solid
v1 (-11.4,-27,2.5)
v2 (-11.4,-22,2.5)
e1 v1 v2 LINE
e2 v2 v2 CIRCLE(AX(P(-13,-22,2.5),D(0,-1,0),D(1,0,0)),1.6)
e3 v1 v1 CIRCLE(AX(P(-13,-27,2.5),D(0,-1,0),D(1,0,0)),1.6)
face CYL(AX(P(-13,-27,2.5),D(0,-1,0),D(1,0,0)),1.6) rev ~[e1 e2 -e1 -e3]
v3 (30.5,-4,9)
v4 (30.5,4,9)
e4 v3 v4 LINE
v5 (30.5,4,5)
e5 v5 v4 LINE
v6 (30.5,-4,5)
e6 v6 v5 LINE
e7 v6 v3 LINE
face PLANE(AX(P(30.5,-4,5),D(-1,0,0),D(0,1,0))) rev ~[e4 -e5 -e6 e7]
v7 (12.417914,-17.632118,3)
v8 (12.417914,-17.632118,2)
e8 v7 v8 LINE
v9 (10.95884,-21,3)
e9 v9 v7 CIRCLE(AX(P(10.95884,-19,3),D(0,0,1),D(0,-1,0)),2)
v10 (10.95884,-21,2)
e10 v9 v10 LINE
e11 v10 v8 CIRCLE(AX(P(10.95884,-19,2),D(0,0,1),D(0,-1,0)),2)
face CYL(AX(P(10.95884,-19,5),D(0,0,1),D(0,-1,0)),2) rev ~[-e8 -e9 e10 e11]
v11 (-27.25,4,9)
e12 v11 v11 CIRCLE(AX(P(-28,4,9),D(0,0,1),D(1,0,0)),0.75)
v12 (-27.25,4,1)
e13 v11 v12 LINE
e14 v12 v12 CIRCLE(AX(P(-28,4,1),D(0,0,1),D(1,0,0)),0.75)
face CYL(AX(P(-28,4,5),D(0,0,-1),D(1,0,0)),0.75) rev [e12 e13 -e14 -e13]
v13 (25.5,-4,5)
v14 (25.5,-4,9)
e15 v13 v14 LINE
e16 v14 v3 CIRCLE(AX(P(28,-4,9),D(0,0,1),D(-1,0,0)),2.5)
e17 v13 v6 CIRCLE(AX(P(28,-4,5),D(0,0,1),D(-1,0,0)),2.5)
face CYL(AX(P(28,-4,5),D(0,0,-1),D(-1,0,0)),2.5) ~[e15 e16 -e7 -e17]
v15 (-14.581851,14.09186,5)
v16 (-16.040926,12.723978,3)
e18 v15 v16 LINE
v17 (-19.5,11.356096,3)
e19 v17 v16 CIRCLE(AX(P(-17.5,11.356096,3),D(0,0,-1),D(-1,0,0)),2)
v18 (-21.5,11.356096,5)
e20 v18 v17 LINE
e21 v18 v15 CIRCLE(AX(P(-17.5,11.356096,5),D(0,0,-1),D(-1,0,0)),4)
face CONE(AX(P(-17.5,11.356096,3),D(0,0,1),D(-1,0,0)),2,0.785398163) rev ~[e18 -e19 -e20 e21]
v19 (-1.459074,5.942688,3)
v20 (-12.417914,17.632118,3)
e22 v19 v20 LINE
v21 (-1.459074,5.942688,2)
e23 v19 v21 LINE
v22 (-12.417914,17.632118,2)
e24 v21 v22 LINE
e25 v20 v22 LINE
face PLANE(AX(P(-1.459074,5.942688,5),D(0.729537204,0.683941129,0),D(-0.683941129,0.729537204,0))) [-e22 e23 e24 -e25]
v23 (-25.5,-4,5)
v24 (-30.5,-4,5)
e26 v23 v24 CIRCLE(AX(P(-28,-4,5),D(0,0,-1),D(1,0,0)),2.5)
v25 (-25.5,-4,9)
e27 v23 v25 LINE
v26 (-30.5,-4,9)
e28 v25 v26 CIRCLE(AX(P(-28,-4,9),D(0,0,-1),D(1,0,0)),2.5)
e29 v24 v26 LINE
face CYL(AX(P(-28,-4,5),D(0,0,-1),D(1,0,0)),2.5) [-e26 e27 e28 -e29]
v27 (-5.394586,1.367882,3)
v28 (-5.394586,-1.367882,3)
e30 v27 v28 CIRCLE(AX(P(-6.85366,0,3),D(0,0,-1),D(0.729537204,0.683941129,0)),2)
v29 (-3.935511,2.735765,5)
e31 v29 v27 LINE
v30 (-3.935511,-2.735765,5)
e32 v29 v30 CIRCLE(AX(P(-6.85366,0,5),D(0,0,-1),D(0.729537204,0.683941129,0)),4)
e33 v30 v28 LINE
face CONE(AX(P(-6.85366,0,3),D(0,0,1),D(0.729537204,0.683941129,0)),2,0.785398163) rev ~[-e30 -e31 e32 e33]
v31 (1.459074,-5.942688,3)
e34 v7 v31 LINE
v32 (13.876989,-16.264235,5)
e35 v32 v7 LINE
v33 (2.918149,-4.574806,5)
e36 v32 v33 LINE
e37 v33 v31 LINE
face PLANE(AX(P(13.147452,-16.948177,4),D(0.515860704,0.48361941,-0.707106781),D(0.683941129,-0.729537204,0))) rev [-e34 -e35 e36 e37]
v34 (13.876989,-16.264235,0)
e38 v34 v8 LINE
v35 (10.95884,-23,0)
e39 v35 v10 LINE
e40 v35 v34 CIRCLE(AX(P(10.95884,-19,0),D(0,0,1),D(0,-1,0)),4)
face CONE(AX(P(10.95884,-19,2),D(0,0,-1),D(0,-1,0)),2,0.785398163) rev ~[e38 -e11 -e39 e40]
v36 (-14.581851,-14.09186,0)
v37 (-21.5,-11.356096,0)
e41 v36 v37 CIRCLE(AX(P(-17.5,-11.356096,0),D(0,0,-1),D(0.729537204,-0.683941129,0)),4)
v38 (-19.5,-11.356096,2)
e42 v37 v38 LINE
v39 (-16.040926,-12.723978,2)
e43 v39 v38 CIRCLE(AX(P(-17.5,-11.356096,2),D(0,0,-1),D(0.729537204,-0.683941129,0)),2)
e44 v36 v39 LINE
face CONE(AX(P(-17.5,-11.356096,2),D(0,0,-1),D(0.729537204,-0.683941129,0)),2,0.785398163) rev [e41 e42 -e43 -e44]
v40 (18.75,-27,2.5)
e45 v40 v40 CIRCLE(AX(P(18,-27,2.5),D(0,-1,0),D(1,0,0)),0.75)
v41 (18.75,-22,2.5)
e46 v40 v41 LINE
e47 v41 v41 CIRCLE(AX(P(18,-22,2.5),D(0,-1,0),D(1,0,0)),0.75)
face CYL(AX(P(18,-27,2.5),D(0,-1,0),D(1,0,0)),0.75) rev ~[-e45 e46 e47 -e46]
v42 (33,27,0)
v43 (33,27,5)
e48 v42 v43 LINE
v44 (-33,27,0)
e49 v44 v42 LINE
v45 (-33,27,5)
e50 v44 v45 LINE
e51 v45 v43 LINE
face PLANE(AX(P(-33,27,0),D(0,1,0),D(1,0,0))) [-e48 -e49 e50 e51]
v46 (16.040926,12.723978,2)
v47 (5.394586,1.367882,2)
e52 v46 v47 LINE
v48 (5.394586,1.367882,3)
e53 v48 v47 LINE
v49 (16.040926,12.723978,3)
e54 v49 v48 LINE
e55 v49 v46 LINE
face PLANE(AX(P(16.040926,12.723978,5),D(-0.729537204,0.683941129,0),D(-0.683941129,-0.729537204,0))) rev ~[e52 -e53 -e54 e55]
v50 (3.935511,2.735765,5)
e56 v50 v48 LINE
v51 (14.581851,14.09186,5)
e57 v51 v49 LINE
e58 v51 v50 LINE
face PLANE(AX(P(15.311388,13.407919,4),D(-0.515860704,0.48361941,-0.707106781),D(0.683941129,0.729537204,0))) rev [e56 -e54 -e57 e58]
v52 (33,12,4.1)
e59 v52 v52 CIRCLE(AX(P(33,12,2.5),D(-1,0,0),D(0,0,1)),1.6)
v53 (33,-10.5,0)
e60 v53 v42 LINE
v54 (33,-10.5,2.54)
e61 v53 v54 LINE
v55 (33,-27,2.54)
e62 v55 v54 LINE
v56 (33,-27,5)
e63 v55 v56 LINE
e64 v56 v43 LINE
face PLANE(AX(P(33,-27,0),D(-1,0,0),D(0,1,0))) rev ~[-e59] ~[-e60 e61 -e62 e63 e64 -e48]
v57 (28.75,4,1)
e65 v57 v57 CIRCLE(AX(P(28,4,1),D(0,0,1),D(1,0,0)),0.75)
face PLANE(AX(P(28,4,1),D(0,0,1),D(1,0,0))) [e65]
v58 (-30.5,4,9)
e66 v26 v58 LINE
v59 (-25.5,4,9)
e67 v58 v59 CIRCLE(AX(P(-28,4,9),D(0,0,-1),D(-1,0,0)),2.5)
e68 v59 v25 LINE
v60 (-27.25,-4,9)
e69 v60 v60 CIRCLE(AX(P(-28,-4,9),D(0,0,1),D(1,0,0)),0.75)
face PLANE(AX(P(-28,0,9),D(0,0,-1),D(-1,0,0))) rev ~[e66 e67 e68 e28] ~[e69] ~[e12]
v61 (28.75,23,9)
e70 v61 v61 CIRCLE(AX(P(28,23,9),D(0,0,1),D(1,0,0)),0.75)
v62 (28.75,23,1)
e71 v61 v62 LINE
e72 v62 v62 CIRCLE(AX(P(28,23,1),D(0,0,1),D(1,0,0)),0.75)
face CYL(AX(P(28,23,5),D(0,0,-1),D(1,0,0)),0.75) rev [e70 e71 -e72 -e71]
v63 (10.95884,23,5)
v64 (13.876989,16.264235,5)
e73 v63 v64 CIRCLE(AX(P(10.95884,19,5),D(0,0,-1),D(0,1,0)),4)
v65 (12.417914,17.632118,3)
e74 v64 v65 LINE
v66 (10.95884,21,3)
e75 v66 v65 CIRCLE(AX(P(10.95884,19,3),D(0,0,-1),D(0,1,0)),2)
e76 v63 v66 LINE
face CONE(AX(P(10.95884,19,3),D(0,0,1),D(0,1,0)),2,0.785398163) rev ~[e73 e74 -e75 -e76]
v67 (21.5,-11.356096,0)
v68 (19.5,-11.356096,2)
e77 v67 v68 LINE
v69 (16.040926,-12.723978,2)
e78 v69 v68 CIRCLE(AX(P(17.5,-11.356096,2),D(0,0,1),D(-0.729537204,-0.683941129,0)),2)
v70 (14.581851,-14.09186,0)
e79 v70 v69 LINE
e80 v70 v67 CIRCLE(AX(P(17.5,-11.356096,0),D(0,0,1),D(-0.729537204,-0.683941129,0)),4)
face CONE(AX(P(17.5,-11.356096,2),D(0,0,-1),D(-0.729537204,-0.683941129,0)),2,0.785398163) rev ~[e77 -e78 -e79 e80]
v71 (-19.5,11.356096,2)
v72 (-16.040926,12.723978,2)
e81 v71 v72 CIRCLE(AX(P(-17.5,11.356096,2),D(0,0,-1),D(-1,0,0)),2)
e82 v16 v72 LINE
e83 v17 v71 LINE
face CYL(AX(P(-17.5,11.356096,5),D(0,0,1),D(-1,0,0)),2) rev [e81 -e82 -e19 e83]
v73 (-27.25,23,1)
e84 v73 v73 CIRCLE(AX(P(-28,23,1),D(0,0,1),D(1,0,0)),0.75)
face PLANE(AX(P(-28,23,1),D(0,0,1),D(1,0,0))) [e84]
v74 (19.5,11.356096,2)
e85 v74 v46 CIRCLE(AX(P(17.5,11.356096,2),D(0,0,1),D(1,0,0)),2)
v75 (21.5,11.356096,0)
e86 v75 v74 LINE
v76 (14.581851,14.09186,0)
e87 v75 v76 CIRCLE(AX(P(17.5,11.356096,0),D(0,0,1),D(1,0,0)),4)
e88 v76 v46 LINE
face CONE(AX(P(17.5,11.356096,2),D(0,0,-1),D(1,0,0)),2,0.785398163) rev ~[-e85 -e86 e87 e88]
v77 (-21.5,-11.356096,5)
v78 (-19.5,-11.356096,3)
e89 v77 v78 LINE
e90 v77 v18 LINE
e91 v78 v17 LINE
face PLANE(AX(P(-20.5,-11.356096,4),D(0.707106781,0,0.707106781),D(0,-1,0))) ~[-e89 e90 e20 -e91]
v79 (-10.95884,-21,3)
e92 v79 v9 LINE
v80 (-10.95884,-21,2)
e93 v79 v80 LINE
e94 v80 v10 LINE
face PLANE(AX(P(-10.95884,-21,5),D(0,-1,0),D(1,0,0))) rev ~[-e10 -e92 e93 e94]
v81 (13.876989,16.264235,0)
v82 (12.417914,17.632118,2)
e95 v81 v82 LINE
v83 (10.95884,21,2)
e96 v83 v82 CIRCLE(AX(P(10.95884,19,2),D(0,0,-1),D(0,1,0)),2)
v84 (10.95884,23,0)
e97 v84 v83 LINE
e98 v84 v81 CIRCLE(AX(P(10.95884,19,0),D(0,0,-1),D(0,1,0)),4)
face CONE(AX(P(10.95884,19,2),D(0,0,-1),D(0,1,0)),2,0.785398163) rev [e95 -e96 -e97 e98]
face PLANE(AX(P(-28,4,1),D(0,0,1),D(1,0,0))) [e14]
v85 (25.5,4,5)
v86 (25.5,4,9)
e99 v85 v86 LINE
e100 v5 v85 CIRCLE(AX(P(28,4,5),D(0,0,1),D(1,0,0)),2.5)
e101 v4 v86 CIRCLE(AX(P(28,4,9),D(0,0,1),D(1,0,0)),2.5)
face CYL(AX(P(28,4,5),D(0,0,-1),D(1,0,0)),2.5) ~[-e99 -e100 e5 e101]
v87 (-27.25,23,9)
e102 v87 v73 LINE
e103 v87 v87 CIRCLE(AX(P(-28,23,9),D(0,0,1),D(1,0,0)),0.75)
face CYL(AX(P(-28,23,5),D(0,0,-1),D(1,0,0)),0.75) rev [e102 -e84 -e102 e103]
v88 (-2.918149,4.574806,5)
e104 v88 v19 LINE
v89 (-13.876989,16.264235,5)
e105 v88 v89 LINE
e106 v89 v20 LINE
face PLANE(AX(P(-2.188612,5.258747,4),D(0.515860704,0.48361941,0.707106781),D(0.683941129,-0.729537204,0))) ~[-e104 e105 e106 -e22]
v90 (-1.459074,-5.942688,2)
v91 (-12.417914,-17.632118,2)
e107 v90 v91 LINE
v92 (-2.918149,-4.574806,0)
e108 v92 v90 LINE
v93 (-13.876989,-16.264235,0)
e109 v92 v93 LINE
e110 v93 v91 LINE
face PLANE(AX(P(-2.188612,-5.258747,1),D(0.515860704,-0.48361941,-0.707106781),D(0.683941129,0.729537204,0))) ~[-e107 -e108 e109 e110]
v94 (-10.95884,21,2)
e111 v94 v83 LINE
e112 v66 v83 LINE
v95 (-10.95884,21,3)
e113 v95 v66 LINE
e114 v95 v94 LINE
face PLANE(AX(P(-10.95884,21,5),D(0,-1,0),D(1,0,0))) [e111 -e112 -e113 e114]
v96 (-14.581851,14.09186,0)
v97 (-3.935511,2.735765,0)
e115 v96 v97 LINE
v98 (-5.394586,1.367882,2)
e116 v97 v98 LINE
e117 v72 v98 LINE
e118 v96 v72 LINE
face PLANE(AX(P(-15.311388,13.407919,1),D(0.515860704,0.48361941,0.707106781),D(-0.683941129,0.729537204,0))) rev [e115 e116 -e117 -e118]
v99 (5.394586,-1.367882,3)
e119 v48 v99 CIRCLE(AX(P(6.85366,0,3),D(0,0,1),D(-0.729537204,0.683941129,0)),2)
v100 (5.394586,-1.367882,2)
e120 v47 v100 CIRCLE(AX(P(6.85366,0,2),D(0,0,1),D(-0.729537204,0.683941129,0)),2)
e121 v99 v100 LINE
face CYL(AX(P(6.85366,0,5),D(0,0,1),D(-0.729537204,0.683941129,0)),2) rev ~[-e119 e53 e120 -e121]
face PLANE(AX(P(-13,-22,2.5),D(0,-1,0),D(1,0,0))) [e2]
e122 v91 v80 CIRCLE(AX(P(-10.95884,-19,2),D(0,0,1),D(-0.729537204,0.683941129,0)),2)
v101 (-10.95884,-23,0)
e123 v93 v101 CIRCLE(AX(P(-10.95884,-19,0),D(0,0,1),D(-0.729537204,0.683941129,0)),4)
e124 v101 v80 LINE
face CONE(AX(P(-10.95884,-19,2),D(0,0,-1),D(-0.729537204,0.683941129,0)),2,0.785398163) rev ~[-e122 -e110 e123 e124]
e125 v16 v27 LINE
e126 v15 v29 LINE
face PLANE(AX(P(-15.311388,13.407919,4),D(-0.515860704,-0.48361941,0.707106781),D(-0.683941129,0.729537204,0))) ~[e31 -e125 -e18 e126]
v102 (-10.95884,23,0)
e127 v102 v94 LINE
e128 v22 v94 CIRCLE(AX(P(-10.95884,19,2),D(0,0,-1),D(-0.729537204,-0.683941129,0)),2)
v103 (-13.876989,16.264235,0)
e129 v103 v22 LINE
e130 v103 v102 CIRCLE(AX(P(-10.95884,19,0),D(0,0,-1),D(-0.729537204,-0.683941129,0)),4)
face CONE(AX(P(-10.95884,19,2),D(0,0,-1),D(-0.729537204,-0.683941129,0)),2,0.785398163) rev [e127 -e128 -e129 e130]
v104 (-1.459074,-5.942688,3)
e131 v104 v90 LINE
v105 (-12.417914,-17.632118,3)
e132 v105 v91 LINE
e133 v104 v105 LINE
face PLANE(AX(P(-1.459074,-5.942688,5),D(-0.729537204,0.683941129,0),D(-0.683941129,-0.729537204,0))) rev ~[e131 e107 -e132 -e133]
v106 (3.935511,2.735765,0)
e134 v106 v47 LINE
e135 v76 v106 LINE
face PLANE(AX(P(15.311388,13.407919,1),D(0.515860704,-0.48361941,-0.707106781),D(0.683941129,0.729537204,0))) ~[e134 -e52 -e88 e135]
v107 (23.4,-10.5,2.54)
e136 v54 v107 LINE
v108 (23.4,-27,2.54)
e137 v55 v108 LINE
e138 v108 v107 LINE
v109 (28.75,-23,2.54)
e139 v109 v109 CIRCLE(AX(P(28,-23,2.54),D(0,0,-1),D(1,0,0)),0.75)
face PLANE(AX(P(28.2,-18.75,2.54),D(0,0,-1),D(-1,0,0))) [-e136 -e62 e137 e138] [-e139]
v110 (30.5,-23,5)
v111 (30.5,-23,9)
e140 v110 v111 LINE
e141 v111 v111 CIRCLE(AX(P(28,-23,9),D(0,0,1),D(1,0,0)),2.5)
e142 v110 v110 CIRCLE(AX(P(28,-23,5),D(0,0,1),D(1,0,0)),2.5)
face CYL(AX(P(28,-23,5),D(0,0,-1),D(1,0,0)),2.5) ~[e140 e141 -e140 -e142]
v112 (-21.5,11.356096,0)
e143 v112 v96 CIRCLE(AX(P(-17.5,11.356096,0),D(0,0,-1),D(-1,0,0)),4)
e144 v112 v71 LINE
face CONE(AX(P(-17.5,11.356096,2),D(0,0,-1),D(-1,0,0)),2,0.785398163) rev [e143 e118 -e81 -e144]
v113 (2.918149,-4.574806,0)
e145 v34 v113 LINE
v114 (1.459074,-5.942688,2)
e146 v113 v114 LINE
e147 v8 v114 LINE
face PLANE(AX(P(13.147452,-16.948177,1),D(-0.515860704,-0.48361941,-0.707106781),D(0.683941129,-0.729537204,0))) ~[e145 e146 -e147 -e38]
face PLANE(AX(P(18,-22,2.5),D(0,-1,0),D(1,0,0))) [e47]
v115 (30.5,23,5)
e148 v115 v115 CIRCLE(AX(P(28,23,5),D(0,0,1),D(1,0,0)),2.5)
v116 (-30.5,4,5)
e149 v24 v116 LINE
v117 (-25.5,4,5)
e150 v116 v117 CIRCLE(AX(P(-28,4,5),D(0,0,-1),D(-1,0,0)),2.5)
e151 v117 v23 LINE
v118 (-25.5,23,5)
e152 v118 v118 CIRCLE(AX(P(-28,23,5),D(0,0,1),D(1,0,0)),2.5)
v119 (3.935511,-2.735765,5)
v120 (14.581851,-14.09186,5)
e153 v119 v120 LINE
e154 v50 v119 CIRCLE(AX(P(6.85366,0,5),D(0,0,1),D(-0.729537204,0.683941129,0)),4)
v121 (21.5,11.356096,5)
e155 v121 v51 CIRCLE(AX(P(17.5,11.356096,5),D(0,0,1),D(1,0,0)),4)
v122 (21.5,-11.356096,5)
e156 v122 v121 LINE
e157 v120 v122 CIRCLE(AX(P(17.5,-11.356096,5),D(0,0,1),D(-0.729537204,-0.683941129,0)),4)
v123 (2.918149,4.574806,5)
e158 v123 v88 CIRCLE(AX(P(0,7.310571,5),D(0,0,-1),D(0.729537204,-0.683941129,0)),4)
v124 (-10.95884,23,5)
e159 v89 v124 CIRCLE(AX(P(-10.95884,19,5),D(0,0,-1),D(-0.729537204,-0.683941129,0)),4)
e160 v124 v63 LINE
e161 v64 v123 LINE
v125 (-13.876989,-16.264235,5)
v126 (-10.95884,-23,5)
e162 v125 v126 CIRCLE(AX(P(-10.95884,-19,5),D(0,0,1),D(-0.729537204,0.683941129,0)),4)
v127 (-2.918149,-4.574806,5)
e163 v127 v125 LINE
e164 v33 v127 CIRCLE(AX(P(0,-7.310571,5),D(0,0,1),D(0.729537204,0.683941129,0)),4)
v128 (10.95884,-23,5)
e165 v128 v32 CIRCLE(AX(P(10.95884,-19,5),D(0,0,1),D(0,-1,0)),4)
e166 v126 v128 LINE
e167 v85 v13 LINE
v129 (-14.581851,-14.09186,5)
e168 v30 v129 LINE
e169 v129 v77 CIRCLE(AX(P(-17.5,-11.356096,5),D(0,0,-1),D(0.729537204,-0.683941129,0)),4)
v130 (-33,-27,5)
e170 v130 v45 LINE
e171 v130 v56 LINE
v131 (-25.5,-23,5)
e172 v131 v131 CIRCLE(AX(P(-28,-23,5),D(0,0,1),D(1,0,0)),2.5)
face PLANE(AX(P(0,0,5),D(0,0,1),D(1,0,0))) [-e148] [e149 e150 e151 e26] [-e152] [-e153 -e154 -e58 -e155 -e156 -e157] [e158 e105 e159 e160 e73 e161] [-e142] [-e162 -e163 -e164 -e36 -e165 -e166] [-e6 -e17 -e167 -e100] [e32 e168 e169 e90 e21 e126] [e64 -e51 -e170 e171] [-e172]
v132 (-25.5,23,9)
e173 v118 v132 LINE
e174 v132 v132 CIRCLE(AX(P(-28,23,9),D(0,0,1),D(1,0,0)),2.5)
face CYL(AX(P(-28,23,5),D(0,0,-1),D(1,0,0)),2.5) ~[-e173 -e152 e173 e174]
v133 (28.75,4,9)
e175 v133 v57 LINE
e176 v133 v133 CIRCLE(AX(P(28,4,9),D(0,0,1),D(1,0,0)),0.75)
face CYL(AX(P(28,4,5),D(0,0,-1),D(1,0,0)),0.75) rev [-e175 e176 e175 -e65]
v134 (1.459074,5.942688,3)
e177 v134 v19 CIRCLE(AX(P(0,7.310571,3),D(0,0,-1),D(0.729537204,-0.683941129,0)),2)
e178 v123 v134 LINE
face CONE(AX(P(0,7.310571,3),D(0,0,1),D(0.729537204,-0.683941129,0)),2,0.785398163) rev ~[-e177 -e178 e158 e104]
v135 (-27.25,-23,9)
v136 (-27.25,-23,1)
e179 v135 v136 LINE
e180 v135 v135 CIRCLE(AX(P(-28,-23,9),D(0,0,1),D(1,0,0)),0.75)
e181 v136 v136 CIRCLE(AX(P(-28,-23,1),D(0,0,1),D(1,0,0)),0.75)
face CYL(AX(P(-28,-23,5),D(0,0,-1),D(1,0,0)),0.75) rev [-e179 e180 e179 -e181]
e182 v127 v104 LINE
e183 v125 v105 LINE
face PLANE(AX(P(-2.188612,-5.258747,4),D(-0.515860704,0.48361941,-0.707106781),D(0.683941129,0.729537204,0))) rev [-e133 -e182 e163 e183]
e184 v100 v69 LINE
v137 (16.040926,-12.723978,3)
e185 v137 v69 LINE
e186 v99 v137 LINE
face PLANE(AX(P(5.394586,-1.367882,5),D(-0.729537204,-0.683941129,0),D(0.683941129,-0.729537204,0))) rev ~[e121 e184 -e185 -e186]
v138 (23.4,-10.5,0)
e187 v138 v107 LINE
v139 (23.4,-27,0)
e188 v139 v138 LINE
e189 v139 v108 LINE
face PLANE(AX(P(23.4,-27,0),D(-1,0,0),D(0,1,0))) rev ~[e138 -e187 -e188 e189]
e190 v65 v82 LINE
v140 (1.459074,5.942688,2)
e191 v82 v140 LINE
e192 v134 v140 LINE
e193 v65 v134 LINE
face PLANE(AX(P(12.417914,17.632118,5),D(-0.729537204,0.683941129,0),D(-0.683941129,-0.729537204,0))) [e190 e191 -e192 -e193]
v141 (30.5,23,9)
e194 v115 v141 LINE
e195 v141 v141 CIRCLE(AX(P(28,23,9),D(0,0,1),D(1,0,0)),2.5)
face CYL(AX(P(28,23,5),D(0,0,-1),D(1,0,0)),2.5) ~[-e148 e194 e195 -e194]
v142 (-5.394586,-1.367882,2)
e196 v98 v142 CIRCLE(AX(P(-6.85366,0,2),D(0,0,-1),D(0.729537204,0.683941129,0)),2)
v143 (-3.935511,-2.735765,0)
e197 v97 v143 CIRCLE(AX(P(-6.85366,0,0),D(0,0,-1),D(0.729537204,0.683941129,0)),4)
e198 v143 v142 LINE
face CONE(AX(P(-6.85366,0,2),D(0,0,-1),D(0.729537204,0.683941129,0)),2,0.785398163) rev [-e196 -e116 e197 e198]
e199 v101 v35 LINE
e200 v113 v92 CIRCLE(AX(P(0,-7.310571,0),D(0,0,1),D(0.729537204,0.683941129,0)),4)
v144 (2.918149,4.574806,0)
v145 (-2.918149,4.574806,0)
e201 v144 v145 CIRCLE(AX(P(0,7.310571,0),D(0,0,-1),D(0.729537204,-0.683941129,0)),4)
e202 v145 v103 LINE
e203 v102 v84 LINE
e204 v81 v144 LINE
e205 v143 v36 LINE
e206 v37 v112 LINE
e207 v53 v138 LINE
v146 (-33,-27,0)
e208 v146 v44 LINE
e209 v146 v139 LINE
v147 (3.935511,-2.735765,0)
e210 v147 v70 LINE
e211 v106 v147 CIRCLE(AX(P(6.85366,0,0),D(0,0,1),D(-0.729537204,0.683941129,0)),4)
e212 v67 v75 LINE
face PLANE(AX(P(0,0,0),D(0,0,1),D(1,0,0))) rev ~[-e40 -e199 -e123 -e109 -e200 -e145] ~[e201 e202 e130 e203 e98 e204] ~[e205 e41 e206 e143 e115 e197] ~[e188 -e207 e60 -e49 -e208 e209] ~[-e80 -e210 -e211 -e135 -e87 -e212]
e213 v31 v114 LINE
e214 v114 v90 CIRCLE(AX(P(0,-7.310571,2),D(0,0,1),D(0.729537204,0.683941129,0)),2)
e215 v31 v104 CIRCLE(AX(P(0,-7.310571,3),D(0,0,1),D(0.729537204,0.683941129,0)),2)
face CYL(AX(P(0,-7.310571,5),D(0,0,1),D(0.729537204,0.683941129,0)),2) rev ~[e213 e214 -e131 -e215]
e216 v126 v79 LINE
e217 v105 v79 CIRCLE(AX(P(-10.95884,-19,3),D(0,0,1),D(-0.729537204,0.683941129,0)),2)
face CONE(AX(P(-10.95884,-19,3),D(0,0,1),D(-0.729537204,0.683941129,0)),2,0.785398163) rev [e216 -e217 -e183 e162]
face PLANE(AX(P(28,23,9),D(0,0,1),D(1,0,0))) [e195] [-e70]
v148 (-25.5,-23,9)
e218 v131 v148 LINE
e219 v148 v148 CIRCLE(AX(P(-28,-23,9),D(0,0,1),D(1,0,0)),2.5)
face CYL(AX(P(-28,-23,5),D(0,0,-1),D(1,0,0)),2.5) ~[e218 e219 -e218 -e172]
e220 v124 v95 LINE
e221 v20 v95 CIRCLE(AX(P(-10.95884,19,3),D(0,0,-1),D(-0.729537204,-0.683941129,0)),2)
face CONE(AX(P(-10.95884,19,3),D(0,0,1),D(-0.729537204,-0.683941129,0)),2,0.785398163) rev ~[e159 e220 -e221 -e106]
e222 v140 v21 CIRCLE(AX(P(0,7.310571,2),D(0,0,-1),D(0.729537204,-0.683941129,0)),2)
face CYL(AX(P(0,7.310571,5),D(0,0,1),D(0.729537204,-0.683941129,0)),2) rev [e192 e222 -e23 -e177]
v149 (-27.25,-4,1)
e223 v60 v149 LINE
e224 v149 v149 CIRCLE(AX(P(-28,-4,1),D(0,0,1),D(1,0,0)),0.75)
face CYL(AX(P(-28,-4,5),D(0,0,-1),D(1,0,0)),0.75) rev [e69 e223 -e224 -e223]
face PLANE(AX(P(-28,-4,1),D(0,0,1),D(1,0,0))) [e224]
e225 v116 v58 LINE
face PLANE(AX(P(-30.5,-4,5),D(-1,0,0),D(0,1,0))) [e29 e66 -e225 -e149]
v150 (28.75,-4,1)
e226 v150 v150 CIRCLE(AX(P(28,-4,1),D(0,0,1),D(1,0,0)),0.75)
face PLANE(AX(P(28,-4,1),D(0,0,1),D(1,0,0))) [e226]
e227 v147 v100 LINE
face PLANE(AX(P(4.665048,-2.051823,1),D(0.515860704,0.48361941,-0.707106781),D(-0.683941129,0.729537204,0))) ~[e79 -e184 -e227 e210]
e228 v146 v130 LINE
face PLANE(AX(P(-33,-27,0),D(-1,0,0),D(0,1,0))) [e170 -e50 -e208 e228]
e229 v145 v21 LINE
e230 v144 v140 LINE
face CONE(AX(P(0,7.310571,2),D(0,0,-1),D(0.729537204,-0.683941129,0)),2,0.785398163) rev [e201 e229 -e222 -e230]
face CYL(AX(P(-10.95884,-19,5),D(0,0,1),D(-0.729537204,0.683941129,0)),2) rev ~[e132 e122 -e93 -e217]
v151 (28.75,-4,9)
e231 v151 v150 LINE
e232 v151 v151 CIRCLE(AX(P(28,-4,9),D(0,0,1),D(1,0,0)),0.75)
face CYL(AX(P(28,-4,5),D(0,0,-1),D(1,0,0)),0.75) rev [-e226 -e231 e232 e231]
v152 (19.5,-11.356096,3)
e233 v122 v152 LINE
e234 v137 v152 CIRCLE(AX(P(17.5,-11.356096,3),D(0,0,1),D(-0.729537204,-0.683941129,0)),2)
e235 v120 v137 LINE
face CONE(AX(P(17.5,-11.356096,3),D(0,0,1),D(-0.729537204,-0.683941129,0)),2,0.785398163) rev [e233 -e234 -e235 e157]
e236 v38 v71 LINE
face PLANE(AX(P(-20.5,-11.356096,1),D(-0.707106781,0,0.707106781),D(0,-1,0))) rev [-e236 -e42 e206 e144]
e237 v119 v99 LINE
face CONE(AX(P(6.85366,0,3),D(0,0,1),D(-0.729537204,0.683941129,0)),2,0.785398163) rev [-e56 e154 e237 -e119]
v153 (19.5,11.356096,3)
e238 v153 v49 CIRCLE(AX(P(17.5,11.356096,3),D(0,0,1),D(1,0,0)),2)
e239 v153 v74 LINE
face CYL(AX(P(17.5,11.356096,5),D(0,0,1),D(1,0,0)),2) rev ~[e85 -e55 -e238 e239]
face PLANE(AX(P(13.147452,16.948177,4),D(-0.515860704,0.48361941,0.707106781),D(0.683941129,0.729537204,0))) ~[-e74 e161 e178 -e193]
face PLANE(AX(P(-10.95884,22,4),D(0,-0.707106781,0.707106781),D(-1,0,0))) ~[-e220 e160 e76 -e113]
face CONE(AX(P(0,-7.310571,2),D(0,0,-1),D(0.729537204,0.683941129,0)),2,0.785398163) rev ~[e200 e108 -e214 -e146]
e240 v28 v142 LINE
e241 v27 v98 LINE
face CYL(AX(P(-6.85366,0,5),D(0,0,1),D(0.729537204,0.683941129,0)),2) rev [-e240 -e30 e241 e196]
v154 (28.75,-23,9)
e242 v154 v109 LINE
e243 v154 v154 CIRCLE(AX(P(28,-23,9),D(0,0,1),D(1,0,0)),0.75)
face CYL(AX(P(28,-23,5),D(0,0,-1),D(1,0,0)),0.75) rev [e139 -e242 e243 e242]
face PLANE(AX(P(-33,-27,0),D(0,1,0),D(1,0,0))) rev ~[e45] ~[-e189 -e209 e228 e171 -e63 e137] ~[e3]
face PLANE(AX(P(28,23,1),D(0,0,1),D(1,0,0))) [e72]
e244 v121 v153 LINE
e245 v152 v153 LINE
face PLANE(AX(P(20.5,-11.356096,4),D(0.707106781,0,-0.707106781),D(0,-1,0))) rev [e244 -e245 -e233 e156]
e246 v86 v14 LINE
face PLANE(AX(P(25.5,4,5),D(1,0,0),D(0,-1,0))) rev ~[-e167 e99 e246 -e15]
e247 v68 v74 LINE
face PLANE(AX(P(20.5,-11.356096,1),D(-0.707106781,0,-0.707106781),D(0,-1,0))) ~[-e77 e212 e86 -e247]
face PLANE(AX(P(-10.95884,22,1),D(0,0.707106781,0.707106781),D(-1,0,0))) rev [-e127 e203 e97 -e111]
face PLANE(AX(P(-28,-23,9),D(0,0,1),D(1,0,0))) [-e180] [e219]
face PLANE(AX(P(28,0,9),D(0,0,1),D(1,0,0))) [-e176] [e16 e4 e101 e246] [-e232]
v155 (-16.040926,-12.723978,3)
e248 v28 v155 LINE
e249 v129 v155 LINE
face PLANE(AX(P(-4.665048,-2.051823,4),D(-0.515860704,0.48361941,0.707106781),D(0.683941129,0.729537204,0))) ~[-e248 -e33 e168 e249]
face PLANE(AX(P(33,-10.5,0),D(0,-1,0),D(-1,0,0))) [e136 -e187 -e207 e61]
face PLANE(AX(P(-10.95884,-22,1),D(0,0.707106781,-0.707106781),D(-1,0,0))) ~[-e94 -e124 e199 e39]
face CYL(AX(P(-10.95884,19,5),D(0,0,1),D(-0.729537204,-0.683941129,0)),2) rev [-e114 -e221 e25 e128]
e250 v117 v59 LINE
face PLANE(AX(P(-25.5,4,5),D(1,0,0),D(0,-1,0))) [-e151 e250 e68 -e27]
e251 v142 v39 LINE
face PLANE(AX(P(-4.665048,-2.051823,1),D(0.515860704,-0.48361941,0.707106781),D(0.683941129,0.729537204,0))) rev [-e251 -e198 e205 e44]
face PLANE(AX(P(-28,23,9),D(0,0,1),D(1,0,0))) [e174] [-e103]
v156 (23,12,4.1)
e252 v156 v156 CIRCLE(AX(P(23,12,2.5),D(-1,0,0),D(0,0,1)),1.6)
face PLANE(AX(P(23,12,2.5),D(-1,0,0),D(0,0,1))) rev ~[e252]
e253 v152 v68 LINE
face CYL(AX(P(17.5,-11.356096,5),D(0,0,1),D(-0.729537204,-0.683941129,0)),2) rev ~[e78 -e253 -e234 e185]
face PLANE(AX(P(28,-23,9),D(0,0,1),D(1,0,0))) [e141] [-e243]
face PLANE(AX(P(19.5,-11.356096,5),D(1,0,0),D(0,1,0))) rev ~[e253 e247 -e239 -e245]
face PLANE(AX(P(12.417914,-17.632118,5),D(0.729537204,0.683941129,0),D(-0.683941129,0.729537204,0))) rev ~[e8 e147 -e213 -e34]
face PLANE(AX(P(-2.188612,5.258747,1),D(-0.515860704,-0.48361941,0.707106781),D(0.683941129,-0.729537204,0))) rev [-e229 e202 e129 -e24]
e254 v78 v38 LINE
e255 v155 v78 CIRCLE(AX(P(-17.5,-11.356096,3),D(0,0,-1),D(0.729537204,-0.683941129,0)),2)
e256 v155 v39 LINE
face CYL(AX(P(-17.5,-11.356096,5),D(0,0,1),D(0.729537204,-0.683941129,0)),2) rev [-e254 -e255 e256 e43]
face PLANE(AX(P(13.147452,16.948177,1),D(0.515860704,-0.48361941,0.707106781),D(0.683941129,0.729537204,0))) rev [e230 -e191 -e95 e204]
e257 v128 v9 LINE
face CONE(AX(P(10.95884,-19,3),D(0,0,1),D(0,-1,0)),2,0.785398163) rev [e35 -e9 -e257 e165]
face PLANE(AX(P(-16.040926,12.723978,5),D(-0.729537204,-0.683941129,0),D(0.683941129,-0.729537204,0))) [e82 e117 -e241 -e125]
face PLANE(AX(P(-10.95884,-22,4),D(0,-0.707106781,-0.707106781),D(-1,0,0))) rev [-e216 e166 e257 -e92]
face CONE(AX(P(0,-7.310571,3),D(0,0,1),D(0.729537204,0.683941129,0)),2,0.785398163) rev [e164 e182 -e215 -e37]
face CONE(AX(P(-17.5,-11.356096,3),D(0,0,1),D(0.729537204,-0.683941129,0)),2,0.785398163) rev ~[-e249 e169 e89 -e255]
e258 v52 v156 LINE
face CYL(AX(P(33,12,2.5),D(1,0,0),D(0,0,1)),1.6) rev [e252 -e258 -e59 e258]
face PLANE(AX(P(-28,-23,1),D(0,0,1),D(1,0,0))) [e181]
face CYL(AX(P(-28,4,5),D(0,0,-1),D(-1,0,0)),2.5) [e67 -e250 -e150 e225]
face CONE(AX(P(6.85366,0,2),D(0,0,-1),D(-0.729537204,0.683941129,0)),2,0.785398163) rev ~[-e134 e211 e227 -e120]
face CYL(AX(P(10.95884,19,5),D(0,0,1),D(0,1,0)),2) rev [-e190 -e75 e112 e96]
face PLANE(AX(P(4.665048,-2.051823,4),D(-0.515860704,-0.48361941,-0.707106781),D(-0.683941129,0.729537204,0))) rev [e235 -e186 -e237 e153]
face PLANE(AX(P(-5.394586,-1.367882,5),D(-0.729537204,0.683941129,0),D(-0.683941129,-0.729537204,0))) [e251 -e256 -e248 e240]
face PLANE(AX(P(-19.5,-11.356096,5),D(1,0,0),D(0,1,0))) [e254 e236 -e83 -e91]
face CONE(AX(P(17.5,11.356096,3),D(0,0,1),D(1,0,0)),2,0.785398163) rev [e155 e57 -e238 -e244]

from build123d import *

# Parameters (mm, degrees)
SKETCH1_W           = 66
SKETCH1_H           = 54
BOSS_EXTRUDE1_DEPTH = 5
SKETCH2_R           = 2.5
SKETCH2_R_2         = 0.75
BOSS_EXTRUDE2_DEPTH = 4
SKETCH2_2_R         = 0.75
CUT_EXTRUDE1_DEPTH  = 4
CUT_EXTRUDE2_DEPTH  = 14
SKETCH4_R           = 1.6
SKETCH4_R_2         = 0.75
CUT_EXTRUDE3_DEPTH  = 5
CHAMFER1_SIZE       = 2
CUT_EXTRUDE4_START  = -66
SKETCH5_R           = 1.6
CUT_EXTRUDE4_DEPTH  = 10
SKETCH6_W           = 9.6
SKETCH6_H           = 16.5
CUT_EXTRUDE5_DEPTH  = 2.54


with BuildPart() as part:
    # Sketch1 → Boss-Extrude1 (new body)
    with BuildSketch(Plane.XY):
        Rectangle(SKETCH1_W, SKETCH1_H)
    extrude(amount=BOSS_EXTRUDE1_DEPTH)

    # Sketch2 → Boss-Extrude2 (add)
    with BuildSketch(Plane.XY.offset(5)):
        with Locations((28, -23)):
            Circle(SKETCH2_R)
        with Locations((28, -23)):
            Circle(SKETCH2_R_2, mode=Mode.SUBTRACT)
        with Locations((-28, -23)):
            Circle(SKETCH2_R)
        with Locations((-28, -23)):
            Circle(SKETCH2_R_2, mode=Mode.SUBTRACT)
        with Locations((-28, 23)):
            Circle(SKETCH2_R)
        with Locations((-28, 23)):
            Circle(SKETCH2_R_2, mode=Mode.SUBTRACT)
        with Locations((28, 23)):
            Circle(SKETCH2_R)
        with Locations((28, 23)):
            Circle(SKETCH2_R_2, mode=Mode.SUBTRACT)
        with BuildLine():
            Line((-25.5, 4), (-25.5, -4))
            ThreePointArc((-25.5, -4), (-28, -6.5), (-30.5, -4))
            Line((-30.5, -4), (-30.5, 4))
            ThreePointArc((-30.5, 4), (-28, 6.5), (-25.5, 4))
        make_face()
        with Locations((-28, -4)):
            Circle(SKETCH2_R_2, mode=Mode.SUBTRACT)
        with Locations((-28, 4)):
            Circle(SKETCH2_R_2, mode=Mode.SUBTRACT)
        with BuildLine():
            Line((25.5, 4), (25.5, -4))
            ThreePointArc((25.5, -4), (28, -6.5), (30.5, -4))
            Line((30.5, -4), (30.5, 4))
            ThreePointArc((30.5, 4), (28, 6.5), (25.5, 4))
        make_face()
        with Locations((28, -4)):
            Circle(SKETCH2_R_2, mode=Mode.SUBTRACT)
        with Locations((28, 4)):
            Circle(SKETCH2_R_2, mode=Mode.SUBTRACT)
    extrude(amount=BOSS_EXTRUDE2_DEPTH)

    # Sketch2<2> → Cut-Extrude1 (cut)
    with BuildSketch(Plane.XY.offset(5)):
        with Locations((-28, 23)):
            Circle(SKETCH2_2_R)
        with Locations((28, 23)):
            Circle(SKETCH2_2_R)
        with Locations((28, 4)):
            Circle(SKETCH2_2_R)
        with Locations((28, -4)):
            Circle(SKETCH2_2_R)
        with Locations((28, -23)):
            Circle(SKETCH2_2_R)
        with Locations((-28, -23)):
            Circle(SKETCH2_2_R)
        with Locations((-28, 4)):
            Circle(SKETCH2_2_R)
        with Locations((-28, -4)):
            Circle(SKETCH2_2_R)
    extrude(amount=-CUT_EXTRUDE1_DEPTH, mode=Mode.SUBTRACT)

    # Sketch3 → Cut-Extrude2 (cut)
    with BuildSketch(Plane.XY.offset(5)):
        with BuildLine():
            Line((-16.040925592, 12.723978191), (-5.394585654, 1.367882258))
            ThreePointArc((-5.394585654, 1.367882258), (-4.853660062, 0), (-5.394585654, -1.367882258))
            Line((-5.394585654, -1.367882258), (-16.040925592, -12.723978191))
            ThreePointArc((-16.040925592, -12.723978191), (-18.235476439, -13.21595464), (-19.5, -11.356095934))
            Line((-19.5, -11.356095934), (-19.5, 11.356095934))
            ThreePointArc((-19.5, 11.356095934), (-18.235476439, 13.21595464), (-16.040925592, 12.723978191))
        make_face()
        with BuildLine():
            Line((-10.958839938, 21), (10.958839938, 21))
            ThreePointArc((10.958839938, 21), (12.794019018, 19.795058326), (12.417914346, 17.632117742))
            Line((12.417914346, 17.632117742), (1.459074408, 5.942688475))
            ThreePointArc((1.459074408, 5.942688475), (0, 5.310570733), (-1.459074408, 5.942688475))
            Line((-1.459074408, 5.942688475), (-12.417914346, 17.632117742))
            ThreePointArc((-12.417914346, 17.632117742), (-12.794019018, 19.795058326), (-10.958839938, 21))
        make_face()
        with BuildLine():
            Line((5.394585654, -1.367882258), (16.040925592, -12.723978191))
            ThreePointArc((16.040925592, -12.723978191), (18.235476439, -13.21595464), (19.5, -11.356095934))
            Line((19.5, -11.356095934), (19.5, 11.356095934))
            ThreePointArc((19.5, 11.356095934), (18.235476439, 13.21595464), (16.040925592, 12.723978191))
            Line((16.040925592, 12.723978191), (5.394585654, 1.367882258))
            ThreePointArc((5.394585654, 1.367882258), (4.853660062, 0), (5.394585654, -1.367882258))
        make_face()
        with BuildLine():
            Line((12.417914346, -17.632117742), (1.459074408, -5.942688475))
            ThreePointArc((1.459074408, -5.942688475), (0, -5.310570733), (-1.459074408, -5.942688475))
            Line((-1.459074408, -5.942688475), (-12.417914346, -17.632117742))
            ThreePointArc((-12.417914346, -17.632117742), (-12.794019018, -19.795058326), (-10.958839938, -21))
            Line((-10.958839938, -21), (10.958839938, -21))
            ThreePointArc((10.958839938, -21), (12.794019018, -19.795058326), (12.417914346, -17.632117742))
        make_face()
    extrude(amount=-CUT_EXTRUDE2_DEPTH, mode=Mode.SUBTRACT)

    # Sketch4 → Cut-Extrude3 (cut)
    with BuildSketch(Plane.XZ.offset(27)):
        with Locations((-13, 2.5)):
            Circle(SKETCH4_R)
        with Locations((18, 2.5)):
            Circle(SKETCH4_R_2)
    extrude(amount=-CUT_EXTRUDE3_DEPTH, mode=Mode.SUBTRACT)

    # Chamfer1
    chamfer1_edges = [part.edges().sort_by_distance(p)[0] for p in [
        (6.938494377, -11.787403109, 0),
        (0, -5.310570733, 0),
        (-6.938494377, -11.787403109, 0),
        (-12.794019018, -19.795058326, 0),
        (0, -21, 0),
        (12.794019018, -19.795058326, 0),
        (-10.717755623, -7.045930225, 0),
        (-4.853660062, 0, 0),
        (-10.717755623, 7.045930225, 0),
        (-18.235476439, 13.21595464, 0),
        (-19.5, 0, 0),
        (-18.235476439, -13.21595464, 0),
        (10.717755623, -7.045930225, 0),
        (18.235476439, -13.21595464, 0),
        (19.5, 0, 0),
        (18.235476439, 13.21595464, 0),
        (10.717755623, 7.045930225, 0),
        (4.853660062, 0, 0),
        (6.938494377, 11.787403109, 0),
        (12.794019018, 19.795058326, 0),
        (0, 21, 0),
        (-12.794019018, 19.795058326, 0),
        (-6.938494377, 11.787403109, 0),
        (0, 5.310570733, 0),
        (0, 5.310570733, 5),
        (6.938494377, 11.787403109, 5),
        (12.794019018, 19.795058326, 5),
        (0, 21, 5),
        (-12.794019018, 19.795058326, 5),
        (-6.938494377, 11.787403109, 5),
        (4.853660062, 0, 5),
        (10.717755623, -7.045930225, 5),
        (18.235476439, -13.21595464, 5),
        (19.5, 0, 5),
        (18.235476439, 13.21595464, 5),
        (10.717755623, 7.045930225, 5),
        (-18.235476439, -13.21595464, 5),
        (-10.717755623, -7.045930225, 5),
        (-4.853660062, 0, 5),
        (-10.717755623, 7.045930225, 5),
        (-18.235476439, 13.21595464, 5),
        (-19.5, 0, 5),
        (12.794019018, -19.795058326, 5),
        (6.938494377, -11.787403109, 5),
        (0, -5.310570733, 5),
        (-6.938494377, -11.787403109, 5),
        (-12.794019018, -19.795058326, 5),
        (0, -21, 5),
    ]]
    chamfer(chamfer1_edges, length=CHAMFER1_SIZE)

    # Sketch5 → Cut-Extrude4 (cut)
    with BuildSketch(Plane.ZY.offset(33).offset(CUT_EXTRUDE4_START)):
        with Locations((2.5, 12)):
            Circle(SKETCH5_R)
    extrude(amount=CUT_EXTRUDE4_DEPTH, mode=Mode.SUBTRACT)

    # Sketch6 → Cut-Extrude5 (cut)
    with BuildSketch(Plane(origin=(0, 0, 0), x_dir=(-1, 0, 0), z_dir=(0, 0, -1))):
        with Locations((-28.2, -18.75)):
            Rectangle(SKETCH6_W, SKETCH6_H)
    extrude(amount=-CUT_EXTRUDE5_DEPTH, mode=Mode.SUBTRACT)


solid = part.part
